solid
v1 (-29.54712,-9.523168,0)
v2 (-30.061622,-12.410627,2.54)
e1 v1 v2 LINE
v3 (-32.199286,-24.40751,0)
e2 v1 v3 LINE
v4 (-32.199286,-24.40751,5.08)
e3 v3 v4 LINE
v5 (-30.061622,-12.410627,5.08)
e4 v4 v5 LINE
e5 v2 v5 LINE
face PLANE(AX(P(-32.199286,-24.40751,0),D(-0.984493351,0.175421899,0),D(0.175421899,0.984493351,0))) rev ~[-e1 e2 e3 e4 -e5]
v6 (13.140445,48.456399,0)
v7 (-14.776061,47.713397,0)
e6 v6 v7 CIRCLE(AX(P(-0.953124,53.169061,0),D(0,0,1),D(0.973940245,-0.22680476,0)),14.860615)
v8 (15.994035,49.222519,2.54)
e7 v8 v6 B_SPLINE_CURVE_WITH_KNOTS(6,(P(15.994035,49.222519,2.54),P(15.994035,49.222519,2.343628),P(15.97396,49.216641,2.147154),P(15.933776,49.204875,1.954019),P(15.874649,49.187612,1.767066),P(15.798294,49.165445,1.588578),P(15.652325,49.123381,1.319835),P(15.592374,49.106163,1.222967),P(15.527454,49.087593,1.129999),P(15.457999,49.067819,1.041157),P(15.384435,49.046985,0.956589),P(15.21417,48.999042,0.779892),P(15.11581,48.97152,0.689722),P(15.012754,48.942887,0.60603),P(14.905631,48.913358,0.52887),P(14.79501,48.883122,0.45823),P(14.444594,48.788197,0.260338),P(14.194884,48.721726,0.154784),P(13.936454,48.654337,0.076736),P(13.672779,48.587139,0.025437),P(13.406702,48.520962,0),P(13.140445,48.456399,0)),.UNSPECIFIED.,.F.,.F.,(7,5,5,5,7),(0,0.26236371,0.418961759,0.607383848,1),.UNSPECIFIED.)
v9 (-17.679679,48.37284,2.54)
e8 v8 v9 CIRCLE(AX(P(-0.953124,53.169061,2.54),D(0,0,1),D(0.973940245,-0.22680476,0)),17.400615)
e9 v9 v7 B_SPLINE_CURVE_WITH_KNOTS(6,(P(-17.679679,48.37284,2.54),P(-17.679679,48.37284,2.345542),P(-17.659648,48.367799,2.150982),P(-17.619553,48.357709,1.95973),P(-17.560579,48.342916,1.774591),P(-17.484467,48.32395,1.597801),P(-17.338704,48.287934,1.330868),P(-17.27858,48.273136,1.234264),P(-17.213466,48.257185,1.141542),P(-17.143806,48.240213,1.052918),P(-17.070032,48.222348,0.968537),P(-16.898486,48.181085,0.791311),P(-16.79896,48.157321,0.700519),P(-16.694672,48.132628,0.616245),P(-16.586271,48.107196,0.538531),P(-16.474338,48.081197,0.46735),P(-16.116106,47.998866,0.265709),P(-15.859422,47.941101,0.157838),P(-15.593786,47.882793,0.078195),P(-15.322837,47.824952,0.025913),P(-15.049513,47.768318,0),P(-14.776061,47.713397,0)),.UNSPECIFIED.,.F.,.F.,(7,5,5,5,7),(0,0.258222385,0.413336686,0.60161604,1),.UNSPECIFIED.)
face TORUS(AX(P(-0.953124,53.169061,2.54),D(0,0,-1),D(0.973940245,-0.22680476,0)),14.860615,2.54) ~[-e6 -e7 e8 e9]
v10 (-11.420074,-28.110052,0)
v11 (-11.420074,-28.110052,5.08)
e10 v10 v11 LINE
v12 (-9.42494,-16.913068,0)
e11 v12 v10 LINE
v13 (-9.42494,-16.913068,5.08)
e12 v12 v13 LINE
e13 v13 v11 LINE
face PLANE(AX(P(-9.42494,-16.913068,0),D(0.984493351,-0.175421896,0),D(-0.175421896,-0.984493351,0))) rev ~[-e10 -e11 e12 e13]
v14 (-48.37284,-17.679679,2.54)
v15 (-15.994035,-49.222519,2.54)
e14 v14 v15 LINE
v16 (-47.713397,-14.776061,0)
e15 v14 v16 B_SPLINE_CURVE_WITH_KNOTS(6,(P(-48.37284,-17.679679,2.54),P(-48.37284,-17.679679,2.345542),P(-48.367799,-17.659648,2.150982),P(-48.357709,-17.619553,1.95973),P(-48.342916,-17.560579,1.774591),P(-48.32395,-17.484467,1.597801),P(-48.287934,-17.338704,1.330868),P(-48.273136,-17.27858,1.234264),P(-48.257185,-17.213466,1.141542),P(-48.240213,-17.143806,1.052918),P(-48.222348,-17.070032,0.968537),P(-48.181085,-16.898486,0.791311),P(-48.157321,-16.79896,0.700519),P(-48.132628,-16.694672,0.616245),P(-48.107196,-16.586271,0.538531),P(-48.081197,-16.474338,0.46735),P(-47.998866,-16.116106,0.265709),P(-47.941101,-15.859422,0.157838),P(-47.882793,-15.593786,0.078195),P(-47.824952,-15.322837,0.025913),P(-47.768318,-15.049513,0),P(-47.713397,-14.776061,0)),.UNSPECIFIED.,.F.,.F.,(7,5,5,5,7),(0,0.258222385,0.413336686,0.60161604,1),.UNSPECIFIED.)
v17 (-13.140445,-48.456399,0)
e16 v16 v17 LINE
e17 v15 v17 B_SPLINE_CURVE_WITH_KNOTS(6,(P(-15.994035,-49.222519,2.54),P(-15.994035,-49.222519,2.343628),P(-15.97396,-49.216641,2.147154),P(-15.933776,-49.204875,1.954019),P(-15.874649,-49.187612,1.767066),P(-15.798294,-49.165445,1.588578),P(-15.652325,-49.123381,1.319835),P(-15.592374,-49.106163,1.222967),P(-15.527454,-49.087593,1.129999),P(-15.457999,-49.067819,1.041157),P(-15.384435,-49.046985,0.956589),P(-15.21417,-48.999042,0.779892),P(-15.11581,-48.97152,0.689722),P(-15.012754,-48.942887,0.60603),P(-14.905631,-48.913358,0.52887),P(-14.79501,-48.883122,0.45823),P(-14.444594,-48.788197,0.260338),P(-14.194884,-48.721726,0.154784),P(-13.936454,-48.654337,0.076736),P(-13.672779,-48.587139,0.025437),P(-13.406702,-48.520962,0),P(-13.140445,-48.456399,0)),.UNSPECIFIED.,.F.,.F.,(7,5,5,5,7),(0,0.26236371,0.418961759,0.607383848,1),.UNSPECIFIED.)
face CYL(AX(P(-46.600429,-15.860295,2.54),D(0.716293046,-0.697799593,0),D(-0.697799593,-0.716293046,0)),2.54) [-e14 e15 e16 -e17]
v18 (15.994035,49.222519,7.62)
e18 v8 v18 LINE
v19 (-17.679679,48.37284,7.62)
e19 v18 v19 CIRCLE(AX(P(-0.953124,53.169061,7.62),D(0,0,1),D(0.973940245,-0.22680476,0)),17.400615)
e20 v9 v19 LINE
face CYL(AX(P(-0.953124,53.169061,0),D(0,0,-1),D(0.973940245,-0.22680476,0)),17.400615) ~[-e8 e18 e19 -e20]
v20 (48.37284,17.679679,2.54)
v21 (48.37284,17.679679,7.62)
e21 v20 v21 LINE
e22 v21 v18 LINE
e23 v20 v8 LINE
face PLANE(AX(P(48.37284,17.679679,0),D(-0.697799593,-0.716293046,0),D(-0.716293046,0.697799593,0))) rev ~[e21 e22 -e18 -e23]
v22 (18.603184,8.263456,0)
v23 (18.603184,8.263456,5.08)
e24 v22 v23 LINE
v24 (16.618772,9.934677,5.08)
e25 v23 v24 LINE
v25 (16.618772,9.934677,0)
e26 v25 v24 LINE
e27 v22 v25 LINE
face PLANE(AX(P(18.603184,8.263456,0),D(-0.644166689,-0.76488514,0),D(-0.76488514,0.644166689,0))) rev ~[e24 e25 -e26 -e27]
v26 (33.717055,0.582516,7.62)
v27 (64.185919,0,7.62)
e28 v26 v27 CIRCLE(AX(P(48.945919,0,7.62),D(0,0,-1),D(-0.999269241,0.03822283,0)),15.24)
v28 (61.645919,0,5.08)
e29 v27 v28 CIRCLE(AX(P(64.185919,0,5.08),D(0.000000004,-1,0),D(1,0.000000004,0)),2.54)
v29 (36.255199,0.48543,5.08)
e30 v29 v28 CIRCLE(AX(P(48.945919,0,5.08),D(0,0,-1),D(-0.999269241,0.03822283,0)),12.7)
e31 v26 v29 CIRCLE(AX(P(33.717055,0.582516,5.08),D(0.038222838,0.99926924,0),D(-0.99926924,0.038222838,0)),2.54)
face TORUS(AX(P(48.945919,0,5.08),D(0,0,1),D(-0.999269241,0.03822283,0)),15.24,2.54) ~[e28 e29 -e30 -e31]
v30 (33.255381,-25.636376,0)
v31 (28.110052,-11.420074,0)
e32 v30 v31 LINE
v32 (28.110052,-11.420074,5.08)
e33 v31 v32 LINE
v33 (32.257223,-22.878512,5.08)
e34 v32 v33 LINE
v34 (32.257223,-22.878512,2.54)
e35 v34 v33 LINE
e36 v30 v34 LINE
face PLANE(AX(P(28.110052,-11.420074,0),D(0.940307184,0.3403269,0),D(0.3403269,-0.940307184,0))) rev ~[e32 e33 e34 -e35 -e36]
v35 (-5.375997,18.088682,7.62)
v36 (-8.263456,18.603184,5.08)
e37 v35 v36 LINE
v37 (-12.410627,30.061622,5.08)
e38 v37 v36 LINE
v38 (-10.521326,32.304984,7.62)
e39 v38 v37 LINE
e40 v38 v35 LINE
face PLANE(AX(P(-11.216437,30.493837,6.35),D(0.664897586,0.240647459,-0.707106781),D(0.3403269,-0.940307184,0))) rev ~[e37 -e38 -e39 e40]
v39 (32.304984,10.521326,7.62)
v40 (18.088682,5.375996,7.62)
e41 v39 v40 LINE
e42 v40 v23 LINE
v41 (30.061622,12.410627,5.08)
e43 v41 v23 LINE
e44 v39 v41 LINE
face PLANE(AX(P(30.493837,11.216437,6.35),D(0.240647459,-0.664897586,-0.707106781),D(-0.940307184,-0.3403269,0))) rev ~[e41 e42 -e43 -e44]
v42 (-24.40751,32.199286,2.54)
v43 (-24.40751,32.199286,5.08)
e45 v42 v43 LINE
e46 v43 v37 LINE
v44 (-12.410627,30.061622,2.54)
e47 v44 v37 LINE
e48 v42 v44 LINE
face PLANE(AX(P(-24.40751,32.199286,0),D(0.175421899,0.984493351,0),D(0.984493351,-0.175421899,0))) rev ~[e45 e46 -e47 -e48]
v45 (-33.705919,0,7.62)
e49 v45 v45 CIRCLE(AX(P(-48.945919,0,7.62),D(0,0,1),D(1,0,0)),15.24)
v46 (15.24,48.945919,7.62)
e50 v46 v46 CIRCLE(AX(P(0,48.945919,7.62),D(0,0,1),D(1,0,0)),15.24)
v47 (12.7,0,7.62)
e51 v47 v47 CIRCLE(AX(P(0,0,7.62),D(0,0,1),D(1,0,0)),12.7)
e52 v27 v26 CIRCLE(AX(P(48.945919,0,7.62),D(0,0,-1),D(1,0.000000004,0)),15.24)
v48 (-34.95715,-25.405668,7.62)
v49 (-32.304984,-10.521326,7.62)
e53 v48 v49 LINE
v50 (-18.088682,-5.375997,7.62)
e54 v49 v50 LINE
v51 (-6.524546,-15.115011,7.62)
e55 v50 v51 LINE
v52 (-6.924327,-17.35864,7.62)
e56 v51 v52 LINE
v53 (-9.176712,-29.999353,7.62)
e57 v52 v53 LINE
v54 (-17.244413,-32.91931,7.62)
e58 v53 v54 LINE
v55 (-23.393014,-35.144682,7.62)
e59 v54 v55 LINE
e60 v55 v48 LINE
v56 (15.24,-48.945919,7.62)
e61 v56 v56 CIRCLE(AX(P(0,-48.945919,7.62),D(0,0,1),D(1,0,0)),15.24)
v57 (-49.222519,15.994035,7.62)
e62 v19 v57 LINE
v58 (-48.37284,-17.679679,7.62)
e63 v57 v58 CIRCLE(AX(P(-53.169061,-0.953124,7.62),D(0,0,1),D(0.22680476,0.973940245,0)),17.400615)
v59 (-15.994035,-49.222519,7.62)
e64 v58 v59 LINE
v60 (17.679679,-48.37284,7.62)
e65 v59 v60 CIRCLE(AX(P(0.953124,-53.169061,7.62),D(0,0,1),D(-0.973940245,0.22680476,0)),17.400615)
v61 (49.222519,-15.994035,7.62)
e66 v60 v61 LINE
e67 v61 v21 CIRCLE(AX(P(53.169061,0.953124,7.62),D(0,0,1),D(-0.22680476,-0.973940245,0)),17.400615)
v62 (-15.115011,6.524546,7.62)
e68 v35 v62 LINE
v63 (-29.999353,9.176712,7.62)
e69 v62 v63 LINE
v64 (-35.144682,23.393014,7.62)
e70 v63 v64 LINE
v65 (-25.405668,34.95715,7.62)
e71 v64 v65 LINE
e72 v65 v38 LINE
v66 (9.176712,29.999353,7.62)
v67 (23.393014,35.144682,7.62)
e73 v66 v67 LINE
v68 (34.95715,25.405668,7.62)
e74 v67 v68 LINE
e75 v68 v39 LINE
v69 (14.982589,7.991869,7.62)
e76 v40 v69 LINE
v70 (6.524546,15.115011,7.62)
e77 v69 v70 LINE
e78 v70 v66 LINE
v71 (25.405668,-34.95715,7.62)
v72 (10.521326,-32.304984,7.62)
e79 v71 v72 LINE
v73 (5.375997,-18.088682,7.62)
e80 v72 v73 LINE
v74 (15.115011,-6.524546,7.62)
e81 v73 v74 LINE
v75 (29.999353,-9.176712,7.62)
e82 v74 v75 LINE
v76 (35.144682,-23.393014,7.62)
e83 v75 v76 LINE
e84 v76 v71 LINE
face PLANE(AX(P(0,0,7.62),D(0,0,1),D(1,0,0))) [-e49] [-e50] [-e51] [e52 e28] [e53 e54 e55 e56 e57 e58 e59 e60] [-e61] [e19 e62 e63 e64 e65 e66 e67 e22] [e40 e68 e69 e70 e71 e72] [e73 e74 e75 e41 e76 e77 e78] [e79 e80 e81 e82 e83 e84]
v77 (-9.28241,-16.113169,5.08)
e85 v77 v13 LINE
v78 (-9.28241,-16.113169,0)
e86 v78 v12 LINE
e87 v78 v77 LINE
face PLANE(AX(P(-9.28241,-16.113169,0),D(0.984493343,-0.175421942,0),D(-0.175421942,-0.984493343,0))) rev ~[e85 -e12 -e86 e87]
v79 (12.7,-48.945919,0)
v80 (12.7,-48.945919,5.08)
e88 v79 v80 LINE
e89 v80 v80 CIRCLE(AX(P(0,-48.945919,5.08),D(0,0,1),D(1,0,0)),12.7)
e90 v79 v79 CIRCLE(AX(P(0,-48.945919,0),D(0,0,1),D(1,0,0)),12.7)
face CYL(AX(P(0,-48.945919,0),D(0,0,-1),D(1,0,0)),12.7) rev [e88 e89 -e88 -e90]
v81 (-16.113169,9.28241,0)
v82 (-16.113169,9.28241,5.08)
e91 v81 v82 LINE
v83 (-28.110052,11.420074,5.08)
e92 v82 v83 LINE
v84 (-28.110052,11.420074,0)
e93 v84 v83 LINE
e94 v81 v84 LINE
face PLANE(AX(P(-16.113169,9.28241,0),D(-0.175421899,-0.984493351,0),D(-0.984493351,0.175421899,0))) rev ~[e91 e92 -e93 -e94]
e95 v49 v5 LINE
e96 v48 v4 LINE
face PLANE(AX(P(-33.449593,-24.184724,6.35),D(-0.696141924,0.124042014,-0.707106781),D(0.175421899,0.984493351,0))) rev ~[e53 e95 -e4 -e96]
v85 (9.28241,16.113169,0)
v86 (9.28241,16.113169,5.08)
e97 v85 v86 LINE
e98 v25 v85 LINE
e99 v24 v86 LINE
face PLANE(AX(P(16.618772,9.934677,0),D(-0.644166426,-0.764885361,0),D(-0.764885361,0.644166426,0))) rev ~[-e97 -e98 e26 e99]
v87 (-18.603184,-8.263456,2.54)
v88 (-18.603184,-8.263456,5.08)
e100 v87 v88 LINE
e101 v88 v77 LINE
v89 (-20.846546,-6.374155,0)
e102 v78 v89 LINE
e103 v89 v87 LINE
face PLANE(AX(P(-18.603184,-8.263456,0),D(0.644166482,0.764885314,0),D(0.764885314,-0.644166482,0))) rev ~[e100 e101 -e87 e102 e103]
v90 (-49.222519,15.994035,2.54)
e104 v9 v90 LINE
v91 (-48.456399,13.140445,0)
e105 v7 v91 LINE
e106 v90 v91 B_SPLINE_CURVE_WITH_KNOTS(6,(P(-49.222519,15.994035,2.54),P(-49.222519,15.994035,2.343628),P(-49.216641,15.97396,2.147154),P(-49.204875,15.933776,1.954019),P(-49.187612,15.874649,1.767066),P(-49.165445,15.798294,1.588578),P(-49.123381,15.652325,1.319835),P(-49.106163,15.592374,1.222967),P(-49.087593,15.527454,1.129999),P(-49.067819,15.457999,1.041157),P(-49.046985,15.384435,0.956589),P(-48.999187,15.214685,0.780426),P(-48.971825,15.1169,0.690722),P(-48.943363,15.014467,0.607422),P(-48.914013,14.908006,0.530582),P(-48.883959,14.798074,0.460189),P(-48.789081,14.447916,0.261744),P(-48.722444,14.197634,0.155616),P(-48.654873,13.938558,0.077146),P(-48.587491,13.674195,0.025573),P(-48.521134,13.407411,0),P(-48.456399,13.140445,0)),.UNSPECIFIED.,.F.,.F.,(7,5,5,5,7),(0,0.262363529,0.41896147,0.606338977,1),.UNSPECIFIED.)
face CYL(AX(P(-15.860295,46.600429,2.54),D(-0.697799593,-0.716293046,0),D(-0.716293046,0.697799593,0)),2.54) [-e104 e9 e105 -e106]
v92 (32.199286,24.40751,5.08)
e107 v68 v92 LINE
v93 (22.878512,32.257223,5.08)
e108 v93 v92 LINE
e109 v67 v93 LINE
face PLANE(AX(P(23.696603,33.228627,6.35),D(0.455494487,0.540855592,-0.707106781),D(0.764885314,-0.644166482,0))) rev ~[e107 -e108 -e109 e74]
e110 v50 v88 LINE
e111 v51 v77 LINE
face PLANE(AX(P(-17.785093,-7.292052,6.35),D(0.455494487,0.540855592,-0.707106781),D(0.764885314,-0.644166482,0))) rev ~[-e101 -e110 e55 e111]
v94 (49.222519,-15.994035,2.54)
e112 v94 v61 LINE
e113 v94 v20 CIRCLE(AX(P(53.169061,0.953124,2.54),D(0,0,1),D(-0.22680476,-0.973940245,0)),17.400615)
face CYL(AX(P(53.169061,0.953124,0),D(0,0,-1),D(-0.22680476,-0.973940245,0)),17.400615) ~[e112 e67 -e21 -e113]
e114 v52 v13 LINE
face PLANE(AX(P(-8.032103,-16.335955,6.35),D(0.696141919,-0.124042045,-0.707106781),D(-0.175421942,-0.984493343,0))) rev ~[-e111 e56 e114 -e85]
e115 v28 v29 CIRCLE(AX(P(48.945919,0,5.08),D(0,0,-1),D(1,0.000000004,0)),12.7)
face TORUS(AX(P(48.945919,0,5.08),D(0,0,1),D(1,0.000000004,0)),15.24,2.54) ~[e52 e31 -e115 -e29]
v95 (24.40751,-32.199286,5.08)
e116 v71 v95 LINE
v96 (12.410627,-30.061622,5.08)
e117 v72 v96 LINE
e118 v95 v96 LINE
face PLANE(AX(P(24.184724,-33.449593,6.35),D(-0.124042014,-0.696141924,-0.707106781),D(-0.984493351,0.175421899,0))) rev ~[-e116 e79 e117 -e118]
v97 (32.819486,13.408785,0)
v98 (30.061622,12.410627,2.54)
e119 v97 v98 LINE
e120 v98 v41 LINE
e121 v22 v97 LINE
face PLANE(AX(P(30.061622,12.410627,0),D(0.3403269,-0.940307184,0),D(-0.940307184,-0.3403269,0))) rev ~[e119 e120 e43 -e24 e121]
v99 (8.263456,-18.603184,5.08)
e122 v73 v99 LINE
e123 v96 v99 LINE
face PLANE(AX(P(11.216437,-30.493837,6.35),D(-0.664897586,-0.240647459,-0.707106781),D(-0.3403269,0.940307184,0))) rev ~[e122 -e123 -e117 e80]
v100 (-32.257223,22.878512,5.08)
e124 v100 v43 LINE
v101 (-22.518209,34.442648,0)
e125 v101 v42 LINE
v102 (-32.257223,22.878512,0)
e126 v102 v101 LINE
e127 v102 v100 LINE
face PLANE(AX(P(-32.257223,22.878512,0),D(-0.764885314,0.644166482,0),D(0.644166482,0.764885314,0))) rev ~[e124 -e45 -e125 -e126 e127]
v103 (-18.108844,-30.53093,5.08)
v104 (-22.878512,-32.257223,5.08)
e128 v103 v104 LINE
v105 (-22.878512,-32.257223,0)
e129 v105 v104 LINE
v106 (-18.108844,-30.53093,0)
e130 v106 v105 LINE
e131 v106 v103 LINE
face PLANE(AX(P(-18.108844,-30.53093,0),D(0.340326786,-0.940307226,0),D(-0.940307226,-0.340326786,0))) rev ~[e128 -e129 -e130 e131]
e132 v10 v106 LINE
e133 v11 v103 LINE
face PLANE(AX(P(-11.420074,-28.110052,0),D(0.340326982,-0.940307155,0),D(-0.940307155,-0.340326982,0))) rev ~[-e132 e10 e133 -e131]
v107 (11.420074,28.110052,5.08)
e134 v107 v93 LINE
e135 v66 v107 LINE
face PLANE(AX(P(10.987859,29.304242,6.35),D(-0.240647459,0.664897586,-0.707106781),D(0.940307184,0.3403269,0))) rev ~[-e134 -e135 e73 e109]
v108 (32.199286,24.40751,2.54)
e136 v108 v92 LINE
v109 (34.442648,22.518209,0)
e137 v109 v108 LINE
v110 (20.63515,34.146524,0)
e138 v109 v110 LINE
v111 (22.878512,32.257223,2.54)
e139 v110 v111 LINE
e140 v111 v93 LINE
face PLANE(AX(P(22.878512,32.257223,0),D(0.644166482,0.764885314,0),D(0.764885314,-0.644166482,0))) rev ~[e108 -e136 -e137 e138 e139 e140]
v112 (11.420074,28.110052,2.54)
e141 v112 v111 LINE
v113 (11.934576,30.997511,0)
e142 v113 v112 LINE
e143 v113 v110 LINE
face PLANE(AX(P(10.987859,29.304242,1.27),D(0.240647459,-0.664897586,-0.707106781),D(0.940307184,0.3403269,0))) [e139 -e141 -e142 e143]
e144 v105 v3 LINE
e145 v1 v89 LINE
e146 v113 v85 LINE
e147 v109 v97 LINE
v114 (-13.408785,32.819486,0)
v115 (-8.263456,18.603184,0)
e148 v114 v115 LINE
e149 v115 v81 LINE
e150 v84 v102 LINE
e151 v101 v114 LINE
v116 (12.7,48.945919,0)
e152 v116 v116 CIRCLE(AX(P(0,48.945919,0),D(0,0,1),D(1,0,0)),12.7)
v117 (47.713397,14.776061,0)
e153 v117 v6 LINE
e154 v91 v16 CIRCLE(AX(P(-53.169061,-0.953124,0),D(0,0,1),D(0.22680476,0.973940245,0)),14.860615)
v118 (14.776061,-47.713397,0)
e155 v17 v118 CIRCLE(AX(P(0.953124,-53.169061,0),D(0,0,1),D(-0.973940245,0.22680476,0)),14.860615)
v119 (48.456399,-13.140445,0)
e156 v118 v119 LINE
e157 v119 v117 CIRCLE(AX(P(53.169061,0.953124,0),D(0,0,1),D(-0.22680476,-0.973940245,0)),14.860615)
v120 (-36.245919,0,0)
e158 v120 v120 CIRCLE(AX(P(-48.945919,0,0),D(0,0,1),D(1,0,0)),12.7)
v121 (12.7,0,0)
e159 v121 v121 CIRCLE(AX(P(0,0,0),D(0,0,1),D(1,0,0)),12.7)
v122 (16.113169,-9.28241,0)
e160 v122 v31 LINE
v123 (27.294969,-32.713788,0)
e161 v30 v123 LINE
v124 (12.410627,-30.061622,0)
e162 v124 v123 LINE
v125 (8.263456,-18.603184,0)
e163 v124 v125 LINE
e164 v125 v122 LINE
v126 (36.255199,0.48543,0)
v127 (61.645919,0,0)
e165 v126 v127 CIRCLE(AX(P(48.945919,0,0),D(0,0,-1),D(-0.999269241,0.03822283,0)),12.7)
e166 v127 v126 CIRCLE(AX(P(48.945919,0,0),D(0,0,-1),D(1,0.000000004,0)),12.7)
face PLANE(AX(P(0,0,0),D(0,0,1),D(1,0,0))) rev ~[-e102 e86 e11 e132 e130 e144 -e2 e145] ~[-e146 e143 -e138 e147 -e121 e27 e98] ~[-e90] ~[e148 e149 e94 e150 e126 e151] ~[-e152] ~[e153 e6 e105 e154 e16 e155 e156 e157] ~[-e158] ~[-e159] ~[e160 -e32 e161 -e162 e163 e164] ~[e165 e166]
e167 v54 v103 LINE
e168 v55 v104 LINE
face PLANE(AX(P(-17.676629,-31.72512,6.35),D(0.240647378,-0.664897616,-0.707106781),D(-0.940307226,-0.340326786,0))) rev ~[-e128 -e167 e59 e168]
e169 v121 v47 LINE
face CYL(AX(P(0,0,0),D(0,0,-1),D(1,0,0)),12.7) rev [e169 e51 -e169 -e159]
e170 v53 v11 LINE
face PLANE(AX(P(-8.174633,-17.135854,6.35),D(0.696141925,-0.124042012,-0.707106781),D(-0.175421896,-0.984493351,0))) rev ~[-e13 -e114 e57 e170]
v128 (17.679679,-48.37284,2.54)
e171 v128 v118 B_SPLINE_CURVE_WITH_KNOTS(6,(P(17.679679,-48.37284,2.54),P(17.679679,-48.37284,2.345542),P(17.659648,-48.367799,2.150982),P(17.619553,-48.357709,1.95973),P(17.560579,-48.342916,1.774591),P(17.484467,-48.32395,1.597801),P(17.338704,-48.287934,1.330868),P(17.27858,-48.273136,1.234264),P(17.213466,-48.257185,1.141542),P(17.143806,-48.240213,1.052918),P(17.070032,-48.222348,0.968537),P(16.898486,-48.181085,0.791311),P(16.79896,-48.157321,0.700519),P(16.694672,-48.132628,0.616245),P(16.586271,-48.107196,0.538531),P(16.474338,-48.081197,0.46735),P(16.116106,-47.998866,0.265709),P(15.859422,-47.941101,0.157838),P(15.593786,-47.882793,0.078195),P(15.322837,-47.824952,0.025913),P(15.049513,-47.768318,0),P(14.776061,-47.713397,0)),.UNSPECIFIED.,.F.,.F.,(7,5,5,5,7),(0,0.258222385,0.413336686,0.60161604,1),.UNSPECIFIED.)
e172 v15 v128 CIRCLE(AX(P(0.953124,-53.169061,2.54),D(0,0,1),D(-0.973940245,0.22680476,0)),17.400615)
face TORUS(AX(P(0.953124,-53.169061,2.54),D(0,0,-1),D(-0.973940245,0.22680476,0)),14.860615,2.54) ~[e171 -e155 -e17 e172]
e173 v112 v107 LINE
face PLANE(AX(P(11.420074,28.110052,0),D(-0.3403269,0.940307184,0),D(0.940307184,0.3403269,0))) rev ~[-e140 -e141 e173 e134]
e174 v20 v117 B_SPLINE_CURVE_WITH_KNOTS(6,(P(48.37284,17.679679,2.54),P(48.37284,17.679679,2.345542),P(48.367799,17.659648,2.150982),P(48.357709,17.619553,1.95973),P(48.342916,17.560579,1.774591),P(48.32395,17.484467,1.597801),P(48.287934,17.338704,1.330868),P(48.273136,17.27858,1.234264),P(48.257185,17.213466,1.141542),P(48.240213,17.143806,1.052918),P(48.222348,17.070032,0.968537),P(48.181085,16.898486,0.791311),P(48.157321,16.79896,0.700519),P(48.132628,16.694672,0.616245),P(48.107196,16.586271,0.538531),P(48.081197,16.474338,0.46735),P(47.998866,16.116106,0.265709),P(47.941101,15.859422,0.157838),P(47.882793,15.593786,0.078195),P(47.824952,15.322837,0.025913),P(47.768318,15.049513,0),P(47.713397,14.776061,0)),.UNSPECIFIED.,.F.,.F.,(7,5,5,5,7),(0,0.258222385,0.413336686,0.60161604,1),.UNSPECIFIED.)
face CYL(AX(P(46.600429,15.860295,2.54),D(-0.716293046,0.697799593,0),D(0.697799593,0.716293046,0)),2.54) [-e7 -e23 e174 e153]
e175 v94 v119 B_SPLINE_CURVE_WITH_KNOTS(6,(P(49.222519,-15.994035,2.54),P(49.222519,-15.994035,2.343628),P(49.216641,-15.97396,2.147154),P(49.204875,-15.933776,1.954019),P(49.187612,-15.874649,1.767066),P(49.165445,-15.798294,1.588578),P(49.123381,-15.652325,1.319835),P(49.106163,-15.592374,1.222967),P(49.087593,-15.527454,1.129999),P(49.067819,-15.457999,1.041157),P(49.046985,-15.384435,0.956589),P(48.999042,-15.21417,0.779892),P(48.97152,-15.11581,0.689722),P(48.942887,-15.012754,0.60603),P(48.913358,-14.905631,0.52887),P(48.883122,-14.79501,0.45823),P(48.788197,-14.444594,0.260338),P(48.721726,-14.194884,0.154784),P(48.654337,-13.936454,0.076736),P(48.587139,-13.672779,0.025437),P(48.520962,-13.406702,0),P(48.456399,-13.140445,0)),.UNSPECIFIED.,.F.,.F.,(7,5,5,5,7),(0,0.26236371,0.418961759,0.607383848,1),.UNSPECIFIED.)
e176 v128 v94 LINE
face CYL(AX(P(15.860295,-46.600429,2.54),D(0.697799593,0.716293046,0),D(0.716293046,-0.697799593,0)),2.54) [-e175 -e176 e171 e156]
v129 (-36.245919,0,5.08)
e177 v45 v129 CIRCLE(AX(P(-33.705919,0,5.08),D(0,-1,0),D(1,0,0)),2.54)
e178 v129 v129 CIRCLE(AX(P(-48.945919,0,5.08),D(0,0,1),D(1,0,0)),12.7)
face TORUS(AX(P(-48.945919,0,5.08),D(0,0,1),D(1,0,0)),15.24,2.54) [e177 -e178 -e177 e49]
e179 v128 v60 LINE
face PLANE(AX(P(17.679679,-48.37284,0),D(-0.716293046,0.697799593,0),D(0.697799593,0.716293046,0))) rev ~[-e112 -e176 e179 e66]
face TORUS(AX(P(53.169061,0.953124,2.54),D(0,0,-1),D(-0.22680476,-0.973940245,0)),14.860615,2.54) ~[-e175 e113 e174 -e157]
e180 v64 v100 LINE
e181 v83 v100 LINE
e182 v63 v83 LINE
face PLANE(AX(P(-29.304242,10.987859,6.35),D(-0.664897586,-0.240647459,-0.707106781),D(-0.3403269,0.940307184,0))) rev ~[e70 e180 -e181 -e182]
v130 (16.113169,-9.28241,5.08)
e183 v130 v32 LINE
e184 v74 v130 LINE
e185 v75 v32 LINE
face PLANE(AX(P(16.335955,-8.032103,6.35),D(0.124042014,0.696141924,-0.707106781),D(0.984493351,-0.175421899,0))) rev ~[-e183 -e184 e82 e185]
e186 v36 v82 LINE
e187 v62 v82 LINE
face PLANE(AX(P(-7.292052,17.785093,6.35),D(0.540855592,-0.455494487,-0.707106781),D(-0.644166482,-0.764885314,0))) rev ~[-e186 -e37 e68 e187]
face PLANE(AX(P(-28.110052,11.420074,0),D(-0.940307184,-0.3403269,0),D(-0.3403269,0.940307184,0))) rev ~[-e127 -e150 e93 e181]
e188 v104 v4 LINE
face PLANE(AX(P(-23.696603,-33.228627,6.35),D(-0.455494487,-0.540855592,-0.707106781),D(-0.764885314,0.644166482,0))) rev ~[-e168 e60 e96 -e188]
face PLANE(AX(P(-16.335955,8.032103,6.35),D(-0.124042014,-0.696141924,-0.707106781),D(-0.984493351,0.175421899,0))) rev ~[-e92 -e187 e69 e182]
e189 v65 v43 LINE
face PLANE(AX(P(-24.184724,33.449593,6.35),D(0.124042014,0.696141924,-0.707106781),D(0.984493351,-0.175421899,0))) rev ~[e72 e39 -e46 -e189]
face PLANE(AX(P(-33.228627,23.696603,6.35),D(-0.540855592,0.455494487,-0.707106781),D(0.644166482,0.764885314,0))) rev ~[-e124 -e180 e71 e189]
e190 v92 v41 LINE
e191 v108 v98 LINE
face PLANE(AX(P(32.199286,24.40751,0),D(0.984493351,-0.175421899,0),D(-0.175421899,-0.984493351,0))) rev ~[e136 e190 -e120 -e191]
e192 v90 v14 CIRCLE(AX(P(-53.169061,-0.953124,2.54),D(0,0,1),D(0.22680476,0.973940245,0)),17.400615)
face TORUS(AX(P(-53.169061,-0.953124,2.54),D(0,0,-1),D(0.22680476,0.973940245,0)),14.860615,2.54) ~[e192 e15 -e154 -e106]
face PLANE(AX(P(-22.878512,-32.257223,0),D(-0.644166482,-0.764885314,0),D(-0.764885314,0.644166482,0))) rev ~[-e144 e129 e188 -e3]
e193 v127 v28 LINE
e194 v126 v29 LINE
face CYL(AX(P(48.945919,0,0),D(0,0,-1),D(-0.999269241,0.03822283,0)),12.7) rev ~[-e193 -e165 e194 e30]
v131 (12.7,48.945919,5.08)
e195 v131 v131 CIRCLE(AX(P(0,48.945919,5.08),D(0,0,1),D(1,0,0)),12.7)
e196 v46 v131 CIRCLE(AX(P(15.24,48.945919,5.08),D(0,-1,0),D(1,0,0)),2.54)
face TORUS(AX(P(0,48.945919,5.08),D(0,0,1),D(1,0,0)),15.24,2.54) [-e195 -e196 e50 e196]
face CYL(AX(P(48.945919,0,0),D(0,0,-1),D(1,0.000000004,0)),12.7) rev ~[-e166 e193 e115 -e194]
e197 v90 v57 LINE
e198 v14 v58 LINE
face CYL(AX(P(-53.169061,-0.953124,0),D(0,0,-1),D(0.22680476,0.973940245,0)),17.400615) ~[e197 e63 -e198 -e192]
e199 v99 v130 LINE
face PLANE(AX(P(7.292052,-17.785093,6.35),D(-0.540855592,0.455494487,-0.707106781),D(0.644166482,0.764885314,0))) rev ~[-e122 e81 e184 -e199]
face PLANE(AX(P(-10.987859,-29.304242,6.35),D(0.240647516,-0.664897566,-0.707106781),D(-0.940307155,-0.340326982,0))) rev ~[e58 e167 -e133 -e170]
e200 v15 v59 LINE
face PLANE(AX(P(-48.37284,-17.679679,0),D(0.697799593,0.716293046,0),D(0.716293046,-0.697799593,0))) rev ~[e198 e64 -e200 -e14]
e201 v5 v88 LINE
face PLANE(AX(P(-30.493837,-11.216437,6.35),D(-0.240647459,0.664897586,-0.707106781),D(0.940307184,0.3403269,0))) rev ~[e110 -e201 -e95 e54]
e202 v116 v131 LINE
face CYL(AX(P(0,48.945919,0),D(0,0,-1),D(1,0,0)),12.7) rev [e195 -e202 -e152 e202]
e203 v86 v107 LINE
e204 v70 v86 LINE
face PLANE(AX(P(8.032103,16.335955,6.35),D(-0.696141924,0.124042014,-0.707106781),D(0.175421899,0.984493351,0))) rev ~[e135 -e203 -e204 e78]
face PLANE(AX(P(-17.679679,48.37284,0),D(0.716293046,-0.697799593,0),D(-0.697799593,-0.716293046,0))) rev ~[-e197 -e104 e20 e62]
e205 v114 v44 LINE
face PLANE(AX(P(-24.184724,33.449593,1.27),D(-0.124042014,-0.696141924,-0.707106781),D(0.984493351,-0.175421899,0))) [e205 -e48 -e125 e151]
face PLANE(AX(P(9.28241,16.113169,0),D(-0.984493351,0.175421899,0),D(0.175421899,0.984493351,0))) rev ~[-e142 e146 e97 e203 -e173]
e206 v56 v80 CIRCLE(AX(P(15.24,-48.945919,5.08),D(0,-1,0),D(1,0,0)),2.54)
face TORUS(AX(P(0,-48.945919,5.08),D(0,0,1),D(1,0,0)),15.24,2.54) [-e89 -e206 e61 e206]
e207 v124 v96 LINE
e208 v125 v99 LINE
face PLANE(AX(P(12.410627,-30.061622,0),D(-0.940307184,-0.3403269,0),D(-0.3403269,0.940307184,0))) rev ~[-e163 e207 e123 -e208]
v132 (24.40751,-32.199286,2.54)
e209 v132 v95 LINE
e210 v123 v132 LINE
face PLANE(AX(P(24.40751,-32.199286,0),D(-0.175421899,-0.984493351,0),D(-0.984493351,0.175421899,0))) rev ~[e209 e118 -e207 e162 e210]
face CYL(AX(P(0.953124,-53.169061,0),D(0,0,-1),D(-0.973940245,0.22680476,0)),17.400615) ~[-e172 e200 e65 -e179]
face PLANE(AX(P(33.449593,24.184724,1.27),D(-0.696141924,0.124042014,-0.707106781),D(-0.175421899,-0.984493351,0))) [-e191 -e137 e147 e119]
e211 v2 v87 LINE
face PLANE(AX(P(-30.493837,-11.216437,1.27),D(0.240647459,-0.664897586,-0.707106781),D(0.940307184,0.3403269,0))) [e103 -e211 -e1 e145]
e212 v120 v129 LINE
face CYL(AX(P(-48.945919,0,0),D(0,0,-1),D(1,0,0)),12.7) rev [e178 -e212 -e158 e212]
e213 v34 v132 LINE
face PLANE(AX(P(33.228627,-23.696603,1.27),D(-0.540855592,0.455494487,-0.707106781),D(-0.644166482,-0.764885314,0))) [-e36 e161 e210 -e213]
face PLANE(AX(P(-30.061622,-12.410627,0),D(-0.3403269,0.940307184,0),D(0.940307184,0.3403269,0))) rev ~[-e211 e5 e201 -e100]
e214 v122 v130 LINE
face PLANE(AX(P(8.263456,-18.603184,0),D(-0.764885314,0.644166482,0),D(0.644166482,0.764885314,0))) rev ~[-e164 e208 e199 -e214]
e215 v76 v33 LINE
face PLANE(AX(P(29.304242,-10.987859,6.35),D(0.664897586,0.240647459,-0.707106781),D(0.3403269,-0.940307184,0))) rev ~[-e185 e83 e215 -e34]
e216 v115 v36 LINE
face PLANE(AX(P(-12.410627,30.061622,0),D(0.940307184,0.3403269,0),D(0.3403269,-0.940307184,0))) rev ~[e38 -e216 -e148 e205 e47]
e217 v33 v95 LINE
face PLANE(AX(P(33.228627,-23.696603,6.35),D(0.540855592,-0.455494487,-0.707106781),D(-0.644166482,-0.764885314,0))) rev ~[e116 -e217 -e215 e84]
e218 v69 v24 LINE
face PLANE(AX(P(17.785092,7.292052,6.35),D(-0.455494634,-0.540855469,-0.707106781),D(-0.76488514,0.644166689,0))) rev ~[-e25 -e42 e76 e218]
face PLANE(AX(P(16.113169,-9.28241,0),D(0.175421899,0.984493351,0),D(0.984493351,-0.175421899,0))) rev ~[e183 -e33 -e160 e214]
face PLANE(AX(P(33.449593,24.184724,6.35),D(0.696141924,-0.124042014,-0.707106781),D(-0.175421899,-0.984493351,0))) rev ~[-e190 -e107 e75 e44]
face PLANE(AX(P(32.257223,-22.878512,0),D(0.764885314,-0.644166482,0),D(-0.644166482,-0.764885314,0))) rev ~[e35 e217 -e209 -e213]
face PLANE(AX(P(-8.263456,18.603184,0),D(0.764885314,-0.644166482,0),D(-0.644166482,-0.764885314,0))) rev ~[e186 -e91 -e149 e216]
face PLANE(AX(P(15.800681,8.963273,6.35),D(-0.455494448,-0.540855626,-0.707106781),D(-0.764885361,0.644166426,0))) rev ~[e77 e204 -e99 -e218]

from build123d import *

# Parameters (mm, degrees)
F0_R     = 12.7
F1_DEPTH = 7.62
F2_R     = 2.54
F3_SIZE  = 2.54
F4_R     = 2.54


with BuildPart() as f1:
    # F0 (on Top) → F1 (new body)
    with BuildSketch(Plane.XY):
        with BuildLine():
            Line((48.37284, 17.679679), (15.994035, 49.222519))
            ThreePointArc((15.994035, 49.222519), (-1.392049, 70.564139), (-17.679679, 48.37284))
            Line((-17.679679, 48.37284), (-49.222519, 15.994035))
            ThreePointArc((-49.222519, 15.994035), (-70.564139, -1.392049), (-48.37284, -17.679679))
            Line((-48.37284, -17.679679), (-15.994035, -49.222519))
            ThreePointArc((-15.994035, -49.222519), (1.392049, -70.564139), (17.679679, -48.37284))
            Line((17.679679, -48.37284), (49.222519, -15.994035))
            ThreePointArc((49.222519, -15.994035), (70.564139, 1.392049), (48.37284, 17.679679))
        make_face()
        Polygon((-9.42494, -16.913068), (-11.420074, -28.110052), (-18.108844, -30.53093), (-22.878512, -32.257223), (-32.199286, -24.40751), (-30.061622, -12.410627), (-18.603184, -8.263456), (-9.28241, -16.113169), align=None, mode=Mode.SUBTRACT)
        with Locations((0, -48.945919)):
            Circle(F0_R, mode=Mode.SUBTRACT)
        Polygon((16.113169, -9.28241), (28.110052, -11.420074), (32.257223, -22.878512), (24.40751, -32.199286), (12.410627, -30.061622), (8.263456, -18.603184), align=None, mode=Mode.SUBTRACT)
        with Locations((-48.945919, 0)):
            Circle(F0_R, mode=Mode.SUBTRACT)
        Polygon((-24.40751, 32.199286), (-12.410627, 30.061622), (-8.263456, 18.603184), (-16.113169, 9.28241), (-28.110052, 11.420074), (-32.257223, 22.878512), align=None, mode=Mode.SUBTRACT)
        Circle(F0_R, mode=Mode.SUBTRACT)
        Polygon((9.28241, 16.113169), (11.420074, 28.110052), (22.878512, 32.257223), (32.199286, 24.40751), (30.061622, 12.410627), (18.603184, 8.263456), (16.618772, 9.934677), align=None, mode=Mode.SUBTRACT)
        with BuildLine():
            ThreePointArc((36.255199, 0.48543), (49.188678, 12.69768), (61.645919, 0))
            ThreePointArc((61.645919, 0), (48.703159, -12.69768), (36.255199, 0.48543))
        make_face(mode=Mode.SUBTRACT)
        with Locations((0, 48.945919)):
            Circle(F0_R, mode=Mode.SUBTRACT)
    extrude(amount=F1_DEPTH)

    # F2
    f2_edges = [f1.edges().sort_by_distance(p)[0] for p in [
        (-32.183437, -33.451099, 0),
        (-70.564139, -1.392049, 0),
        (1.392049, -70.564139, 0),
        (-33.451099, 32.183437, 0),
        (-1.392049, 70.564139, 0),
        (32.183437, 33.451099, 0),
        (70.564139, 1.392049, 0),
        (33.451099, -32.183437, 0),
    ]]
    fillet(f2_edges, radius=F2_R)

    # F3
    f3_edges = [f1.edges().sort_by_distance(p)[0] for p in [
        (-18.409069, 31.130454, 0),
        (-22.111611, 10.351242, 7.62),
        (-30.183638, 17.149293, 7.62),
        (-12.188312, 13.942797, 7.62),
        (-18.409069, 31.130454, 7.62),
        (-10.337041, 24.332403, 7.62),
        (17.149293, 30.183638, 0),
        (10.351242, 22.111611, 7.62),
        (13.942797, 12.188312, 7.62),
        (24.332403, 10.337041, 7.62),
        (31.130454, 18.409069, 0),
        (27.538899, 28.332367, 7.62),
        (31.130454, 18.409069, 7.62),
        (17.149293, 30.183638, 7.62),
        (22.111611, -10.351242, 7.62),
        (30.183638, -17.149293, 7.62),
        (28.332367, -27.538899, 0),
        (28.332367, -27.538899, 7.62),
        (18.409069, -31.130454, 7.62),
        (10.337041, -24.332403, 7.62),
        (12.188312, -13.942797, 7.62),
        (-24.332403, -10.337041, 0),
        (-24.332403, -10.337041, 7.62),
        (-10.351242, -22.111611, 7.62),
        (-13.942797, -12.188312, 7.62),
        (-17.149293, -30.183638, 7.62),
        (-27.538899, -28.332367, 7.62),
        (-31.130454, -18.409069, 7.62),
        (-28.332367, 27.538899, 7.62),
    ]]
    chamfer(f3_edges, length=F3_SIZE)

    # F4
    f4_edges = [f1.edges().sort_by_distance(p)[0] for p in [
        (-61.645919, 0, 7.62),
        (-12.7, -48.945919, 7.62),
        (-12.7, 48.945919, 7.62),
        (61.636638, -0.48543, 7.62),
    ]]
    fillet(f4_edges, radius=F4_R)


solid = f1.part
